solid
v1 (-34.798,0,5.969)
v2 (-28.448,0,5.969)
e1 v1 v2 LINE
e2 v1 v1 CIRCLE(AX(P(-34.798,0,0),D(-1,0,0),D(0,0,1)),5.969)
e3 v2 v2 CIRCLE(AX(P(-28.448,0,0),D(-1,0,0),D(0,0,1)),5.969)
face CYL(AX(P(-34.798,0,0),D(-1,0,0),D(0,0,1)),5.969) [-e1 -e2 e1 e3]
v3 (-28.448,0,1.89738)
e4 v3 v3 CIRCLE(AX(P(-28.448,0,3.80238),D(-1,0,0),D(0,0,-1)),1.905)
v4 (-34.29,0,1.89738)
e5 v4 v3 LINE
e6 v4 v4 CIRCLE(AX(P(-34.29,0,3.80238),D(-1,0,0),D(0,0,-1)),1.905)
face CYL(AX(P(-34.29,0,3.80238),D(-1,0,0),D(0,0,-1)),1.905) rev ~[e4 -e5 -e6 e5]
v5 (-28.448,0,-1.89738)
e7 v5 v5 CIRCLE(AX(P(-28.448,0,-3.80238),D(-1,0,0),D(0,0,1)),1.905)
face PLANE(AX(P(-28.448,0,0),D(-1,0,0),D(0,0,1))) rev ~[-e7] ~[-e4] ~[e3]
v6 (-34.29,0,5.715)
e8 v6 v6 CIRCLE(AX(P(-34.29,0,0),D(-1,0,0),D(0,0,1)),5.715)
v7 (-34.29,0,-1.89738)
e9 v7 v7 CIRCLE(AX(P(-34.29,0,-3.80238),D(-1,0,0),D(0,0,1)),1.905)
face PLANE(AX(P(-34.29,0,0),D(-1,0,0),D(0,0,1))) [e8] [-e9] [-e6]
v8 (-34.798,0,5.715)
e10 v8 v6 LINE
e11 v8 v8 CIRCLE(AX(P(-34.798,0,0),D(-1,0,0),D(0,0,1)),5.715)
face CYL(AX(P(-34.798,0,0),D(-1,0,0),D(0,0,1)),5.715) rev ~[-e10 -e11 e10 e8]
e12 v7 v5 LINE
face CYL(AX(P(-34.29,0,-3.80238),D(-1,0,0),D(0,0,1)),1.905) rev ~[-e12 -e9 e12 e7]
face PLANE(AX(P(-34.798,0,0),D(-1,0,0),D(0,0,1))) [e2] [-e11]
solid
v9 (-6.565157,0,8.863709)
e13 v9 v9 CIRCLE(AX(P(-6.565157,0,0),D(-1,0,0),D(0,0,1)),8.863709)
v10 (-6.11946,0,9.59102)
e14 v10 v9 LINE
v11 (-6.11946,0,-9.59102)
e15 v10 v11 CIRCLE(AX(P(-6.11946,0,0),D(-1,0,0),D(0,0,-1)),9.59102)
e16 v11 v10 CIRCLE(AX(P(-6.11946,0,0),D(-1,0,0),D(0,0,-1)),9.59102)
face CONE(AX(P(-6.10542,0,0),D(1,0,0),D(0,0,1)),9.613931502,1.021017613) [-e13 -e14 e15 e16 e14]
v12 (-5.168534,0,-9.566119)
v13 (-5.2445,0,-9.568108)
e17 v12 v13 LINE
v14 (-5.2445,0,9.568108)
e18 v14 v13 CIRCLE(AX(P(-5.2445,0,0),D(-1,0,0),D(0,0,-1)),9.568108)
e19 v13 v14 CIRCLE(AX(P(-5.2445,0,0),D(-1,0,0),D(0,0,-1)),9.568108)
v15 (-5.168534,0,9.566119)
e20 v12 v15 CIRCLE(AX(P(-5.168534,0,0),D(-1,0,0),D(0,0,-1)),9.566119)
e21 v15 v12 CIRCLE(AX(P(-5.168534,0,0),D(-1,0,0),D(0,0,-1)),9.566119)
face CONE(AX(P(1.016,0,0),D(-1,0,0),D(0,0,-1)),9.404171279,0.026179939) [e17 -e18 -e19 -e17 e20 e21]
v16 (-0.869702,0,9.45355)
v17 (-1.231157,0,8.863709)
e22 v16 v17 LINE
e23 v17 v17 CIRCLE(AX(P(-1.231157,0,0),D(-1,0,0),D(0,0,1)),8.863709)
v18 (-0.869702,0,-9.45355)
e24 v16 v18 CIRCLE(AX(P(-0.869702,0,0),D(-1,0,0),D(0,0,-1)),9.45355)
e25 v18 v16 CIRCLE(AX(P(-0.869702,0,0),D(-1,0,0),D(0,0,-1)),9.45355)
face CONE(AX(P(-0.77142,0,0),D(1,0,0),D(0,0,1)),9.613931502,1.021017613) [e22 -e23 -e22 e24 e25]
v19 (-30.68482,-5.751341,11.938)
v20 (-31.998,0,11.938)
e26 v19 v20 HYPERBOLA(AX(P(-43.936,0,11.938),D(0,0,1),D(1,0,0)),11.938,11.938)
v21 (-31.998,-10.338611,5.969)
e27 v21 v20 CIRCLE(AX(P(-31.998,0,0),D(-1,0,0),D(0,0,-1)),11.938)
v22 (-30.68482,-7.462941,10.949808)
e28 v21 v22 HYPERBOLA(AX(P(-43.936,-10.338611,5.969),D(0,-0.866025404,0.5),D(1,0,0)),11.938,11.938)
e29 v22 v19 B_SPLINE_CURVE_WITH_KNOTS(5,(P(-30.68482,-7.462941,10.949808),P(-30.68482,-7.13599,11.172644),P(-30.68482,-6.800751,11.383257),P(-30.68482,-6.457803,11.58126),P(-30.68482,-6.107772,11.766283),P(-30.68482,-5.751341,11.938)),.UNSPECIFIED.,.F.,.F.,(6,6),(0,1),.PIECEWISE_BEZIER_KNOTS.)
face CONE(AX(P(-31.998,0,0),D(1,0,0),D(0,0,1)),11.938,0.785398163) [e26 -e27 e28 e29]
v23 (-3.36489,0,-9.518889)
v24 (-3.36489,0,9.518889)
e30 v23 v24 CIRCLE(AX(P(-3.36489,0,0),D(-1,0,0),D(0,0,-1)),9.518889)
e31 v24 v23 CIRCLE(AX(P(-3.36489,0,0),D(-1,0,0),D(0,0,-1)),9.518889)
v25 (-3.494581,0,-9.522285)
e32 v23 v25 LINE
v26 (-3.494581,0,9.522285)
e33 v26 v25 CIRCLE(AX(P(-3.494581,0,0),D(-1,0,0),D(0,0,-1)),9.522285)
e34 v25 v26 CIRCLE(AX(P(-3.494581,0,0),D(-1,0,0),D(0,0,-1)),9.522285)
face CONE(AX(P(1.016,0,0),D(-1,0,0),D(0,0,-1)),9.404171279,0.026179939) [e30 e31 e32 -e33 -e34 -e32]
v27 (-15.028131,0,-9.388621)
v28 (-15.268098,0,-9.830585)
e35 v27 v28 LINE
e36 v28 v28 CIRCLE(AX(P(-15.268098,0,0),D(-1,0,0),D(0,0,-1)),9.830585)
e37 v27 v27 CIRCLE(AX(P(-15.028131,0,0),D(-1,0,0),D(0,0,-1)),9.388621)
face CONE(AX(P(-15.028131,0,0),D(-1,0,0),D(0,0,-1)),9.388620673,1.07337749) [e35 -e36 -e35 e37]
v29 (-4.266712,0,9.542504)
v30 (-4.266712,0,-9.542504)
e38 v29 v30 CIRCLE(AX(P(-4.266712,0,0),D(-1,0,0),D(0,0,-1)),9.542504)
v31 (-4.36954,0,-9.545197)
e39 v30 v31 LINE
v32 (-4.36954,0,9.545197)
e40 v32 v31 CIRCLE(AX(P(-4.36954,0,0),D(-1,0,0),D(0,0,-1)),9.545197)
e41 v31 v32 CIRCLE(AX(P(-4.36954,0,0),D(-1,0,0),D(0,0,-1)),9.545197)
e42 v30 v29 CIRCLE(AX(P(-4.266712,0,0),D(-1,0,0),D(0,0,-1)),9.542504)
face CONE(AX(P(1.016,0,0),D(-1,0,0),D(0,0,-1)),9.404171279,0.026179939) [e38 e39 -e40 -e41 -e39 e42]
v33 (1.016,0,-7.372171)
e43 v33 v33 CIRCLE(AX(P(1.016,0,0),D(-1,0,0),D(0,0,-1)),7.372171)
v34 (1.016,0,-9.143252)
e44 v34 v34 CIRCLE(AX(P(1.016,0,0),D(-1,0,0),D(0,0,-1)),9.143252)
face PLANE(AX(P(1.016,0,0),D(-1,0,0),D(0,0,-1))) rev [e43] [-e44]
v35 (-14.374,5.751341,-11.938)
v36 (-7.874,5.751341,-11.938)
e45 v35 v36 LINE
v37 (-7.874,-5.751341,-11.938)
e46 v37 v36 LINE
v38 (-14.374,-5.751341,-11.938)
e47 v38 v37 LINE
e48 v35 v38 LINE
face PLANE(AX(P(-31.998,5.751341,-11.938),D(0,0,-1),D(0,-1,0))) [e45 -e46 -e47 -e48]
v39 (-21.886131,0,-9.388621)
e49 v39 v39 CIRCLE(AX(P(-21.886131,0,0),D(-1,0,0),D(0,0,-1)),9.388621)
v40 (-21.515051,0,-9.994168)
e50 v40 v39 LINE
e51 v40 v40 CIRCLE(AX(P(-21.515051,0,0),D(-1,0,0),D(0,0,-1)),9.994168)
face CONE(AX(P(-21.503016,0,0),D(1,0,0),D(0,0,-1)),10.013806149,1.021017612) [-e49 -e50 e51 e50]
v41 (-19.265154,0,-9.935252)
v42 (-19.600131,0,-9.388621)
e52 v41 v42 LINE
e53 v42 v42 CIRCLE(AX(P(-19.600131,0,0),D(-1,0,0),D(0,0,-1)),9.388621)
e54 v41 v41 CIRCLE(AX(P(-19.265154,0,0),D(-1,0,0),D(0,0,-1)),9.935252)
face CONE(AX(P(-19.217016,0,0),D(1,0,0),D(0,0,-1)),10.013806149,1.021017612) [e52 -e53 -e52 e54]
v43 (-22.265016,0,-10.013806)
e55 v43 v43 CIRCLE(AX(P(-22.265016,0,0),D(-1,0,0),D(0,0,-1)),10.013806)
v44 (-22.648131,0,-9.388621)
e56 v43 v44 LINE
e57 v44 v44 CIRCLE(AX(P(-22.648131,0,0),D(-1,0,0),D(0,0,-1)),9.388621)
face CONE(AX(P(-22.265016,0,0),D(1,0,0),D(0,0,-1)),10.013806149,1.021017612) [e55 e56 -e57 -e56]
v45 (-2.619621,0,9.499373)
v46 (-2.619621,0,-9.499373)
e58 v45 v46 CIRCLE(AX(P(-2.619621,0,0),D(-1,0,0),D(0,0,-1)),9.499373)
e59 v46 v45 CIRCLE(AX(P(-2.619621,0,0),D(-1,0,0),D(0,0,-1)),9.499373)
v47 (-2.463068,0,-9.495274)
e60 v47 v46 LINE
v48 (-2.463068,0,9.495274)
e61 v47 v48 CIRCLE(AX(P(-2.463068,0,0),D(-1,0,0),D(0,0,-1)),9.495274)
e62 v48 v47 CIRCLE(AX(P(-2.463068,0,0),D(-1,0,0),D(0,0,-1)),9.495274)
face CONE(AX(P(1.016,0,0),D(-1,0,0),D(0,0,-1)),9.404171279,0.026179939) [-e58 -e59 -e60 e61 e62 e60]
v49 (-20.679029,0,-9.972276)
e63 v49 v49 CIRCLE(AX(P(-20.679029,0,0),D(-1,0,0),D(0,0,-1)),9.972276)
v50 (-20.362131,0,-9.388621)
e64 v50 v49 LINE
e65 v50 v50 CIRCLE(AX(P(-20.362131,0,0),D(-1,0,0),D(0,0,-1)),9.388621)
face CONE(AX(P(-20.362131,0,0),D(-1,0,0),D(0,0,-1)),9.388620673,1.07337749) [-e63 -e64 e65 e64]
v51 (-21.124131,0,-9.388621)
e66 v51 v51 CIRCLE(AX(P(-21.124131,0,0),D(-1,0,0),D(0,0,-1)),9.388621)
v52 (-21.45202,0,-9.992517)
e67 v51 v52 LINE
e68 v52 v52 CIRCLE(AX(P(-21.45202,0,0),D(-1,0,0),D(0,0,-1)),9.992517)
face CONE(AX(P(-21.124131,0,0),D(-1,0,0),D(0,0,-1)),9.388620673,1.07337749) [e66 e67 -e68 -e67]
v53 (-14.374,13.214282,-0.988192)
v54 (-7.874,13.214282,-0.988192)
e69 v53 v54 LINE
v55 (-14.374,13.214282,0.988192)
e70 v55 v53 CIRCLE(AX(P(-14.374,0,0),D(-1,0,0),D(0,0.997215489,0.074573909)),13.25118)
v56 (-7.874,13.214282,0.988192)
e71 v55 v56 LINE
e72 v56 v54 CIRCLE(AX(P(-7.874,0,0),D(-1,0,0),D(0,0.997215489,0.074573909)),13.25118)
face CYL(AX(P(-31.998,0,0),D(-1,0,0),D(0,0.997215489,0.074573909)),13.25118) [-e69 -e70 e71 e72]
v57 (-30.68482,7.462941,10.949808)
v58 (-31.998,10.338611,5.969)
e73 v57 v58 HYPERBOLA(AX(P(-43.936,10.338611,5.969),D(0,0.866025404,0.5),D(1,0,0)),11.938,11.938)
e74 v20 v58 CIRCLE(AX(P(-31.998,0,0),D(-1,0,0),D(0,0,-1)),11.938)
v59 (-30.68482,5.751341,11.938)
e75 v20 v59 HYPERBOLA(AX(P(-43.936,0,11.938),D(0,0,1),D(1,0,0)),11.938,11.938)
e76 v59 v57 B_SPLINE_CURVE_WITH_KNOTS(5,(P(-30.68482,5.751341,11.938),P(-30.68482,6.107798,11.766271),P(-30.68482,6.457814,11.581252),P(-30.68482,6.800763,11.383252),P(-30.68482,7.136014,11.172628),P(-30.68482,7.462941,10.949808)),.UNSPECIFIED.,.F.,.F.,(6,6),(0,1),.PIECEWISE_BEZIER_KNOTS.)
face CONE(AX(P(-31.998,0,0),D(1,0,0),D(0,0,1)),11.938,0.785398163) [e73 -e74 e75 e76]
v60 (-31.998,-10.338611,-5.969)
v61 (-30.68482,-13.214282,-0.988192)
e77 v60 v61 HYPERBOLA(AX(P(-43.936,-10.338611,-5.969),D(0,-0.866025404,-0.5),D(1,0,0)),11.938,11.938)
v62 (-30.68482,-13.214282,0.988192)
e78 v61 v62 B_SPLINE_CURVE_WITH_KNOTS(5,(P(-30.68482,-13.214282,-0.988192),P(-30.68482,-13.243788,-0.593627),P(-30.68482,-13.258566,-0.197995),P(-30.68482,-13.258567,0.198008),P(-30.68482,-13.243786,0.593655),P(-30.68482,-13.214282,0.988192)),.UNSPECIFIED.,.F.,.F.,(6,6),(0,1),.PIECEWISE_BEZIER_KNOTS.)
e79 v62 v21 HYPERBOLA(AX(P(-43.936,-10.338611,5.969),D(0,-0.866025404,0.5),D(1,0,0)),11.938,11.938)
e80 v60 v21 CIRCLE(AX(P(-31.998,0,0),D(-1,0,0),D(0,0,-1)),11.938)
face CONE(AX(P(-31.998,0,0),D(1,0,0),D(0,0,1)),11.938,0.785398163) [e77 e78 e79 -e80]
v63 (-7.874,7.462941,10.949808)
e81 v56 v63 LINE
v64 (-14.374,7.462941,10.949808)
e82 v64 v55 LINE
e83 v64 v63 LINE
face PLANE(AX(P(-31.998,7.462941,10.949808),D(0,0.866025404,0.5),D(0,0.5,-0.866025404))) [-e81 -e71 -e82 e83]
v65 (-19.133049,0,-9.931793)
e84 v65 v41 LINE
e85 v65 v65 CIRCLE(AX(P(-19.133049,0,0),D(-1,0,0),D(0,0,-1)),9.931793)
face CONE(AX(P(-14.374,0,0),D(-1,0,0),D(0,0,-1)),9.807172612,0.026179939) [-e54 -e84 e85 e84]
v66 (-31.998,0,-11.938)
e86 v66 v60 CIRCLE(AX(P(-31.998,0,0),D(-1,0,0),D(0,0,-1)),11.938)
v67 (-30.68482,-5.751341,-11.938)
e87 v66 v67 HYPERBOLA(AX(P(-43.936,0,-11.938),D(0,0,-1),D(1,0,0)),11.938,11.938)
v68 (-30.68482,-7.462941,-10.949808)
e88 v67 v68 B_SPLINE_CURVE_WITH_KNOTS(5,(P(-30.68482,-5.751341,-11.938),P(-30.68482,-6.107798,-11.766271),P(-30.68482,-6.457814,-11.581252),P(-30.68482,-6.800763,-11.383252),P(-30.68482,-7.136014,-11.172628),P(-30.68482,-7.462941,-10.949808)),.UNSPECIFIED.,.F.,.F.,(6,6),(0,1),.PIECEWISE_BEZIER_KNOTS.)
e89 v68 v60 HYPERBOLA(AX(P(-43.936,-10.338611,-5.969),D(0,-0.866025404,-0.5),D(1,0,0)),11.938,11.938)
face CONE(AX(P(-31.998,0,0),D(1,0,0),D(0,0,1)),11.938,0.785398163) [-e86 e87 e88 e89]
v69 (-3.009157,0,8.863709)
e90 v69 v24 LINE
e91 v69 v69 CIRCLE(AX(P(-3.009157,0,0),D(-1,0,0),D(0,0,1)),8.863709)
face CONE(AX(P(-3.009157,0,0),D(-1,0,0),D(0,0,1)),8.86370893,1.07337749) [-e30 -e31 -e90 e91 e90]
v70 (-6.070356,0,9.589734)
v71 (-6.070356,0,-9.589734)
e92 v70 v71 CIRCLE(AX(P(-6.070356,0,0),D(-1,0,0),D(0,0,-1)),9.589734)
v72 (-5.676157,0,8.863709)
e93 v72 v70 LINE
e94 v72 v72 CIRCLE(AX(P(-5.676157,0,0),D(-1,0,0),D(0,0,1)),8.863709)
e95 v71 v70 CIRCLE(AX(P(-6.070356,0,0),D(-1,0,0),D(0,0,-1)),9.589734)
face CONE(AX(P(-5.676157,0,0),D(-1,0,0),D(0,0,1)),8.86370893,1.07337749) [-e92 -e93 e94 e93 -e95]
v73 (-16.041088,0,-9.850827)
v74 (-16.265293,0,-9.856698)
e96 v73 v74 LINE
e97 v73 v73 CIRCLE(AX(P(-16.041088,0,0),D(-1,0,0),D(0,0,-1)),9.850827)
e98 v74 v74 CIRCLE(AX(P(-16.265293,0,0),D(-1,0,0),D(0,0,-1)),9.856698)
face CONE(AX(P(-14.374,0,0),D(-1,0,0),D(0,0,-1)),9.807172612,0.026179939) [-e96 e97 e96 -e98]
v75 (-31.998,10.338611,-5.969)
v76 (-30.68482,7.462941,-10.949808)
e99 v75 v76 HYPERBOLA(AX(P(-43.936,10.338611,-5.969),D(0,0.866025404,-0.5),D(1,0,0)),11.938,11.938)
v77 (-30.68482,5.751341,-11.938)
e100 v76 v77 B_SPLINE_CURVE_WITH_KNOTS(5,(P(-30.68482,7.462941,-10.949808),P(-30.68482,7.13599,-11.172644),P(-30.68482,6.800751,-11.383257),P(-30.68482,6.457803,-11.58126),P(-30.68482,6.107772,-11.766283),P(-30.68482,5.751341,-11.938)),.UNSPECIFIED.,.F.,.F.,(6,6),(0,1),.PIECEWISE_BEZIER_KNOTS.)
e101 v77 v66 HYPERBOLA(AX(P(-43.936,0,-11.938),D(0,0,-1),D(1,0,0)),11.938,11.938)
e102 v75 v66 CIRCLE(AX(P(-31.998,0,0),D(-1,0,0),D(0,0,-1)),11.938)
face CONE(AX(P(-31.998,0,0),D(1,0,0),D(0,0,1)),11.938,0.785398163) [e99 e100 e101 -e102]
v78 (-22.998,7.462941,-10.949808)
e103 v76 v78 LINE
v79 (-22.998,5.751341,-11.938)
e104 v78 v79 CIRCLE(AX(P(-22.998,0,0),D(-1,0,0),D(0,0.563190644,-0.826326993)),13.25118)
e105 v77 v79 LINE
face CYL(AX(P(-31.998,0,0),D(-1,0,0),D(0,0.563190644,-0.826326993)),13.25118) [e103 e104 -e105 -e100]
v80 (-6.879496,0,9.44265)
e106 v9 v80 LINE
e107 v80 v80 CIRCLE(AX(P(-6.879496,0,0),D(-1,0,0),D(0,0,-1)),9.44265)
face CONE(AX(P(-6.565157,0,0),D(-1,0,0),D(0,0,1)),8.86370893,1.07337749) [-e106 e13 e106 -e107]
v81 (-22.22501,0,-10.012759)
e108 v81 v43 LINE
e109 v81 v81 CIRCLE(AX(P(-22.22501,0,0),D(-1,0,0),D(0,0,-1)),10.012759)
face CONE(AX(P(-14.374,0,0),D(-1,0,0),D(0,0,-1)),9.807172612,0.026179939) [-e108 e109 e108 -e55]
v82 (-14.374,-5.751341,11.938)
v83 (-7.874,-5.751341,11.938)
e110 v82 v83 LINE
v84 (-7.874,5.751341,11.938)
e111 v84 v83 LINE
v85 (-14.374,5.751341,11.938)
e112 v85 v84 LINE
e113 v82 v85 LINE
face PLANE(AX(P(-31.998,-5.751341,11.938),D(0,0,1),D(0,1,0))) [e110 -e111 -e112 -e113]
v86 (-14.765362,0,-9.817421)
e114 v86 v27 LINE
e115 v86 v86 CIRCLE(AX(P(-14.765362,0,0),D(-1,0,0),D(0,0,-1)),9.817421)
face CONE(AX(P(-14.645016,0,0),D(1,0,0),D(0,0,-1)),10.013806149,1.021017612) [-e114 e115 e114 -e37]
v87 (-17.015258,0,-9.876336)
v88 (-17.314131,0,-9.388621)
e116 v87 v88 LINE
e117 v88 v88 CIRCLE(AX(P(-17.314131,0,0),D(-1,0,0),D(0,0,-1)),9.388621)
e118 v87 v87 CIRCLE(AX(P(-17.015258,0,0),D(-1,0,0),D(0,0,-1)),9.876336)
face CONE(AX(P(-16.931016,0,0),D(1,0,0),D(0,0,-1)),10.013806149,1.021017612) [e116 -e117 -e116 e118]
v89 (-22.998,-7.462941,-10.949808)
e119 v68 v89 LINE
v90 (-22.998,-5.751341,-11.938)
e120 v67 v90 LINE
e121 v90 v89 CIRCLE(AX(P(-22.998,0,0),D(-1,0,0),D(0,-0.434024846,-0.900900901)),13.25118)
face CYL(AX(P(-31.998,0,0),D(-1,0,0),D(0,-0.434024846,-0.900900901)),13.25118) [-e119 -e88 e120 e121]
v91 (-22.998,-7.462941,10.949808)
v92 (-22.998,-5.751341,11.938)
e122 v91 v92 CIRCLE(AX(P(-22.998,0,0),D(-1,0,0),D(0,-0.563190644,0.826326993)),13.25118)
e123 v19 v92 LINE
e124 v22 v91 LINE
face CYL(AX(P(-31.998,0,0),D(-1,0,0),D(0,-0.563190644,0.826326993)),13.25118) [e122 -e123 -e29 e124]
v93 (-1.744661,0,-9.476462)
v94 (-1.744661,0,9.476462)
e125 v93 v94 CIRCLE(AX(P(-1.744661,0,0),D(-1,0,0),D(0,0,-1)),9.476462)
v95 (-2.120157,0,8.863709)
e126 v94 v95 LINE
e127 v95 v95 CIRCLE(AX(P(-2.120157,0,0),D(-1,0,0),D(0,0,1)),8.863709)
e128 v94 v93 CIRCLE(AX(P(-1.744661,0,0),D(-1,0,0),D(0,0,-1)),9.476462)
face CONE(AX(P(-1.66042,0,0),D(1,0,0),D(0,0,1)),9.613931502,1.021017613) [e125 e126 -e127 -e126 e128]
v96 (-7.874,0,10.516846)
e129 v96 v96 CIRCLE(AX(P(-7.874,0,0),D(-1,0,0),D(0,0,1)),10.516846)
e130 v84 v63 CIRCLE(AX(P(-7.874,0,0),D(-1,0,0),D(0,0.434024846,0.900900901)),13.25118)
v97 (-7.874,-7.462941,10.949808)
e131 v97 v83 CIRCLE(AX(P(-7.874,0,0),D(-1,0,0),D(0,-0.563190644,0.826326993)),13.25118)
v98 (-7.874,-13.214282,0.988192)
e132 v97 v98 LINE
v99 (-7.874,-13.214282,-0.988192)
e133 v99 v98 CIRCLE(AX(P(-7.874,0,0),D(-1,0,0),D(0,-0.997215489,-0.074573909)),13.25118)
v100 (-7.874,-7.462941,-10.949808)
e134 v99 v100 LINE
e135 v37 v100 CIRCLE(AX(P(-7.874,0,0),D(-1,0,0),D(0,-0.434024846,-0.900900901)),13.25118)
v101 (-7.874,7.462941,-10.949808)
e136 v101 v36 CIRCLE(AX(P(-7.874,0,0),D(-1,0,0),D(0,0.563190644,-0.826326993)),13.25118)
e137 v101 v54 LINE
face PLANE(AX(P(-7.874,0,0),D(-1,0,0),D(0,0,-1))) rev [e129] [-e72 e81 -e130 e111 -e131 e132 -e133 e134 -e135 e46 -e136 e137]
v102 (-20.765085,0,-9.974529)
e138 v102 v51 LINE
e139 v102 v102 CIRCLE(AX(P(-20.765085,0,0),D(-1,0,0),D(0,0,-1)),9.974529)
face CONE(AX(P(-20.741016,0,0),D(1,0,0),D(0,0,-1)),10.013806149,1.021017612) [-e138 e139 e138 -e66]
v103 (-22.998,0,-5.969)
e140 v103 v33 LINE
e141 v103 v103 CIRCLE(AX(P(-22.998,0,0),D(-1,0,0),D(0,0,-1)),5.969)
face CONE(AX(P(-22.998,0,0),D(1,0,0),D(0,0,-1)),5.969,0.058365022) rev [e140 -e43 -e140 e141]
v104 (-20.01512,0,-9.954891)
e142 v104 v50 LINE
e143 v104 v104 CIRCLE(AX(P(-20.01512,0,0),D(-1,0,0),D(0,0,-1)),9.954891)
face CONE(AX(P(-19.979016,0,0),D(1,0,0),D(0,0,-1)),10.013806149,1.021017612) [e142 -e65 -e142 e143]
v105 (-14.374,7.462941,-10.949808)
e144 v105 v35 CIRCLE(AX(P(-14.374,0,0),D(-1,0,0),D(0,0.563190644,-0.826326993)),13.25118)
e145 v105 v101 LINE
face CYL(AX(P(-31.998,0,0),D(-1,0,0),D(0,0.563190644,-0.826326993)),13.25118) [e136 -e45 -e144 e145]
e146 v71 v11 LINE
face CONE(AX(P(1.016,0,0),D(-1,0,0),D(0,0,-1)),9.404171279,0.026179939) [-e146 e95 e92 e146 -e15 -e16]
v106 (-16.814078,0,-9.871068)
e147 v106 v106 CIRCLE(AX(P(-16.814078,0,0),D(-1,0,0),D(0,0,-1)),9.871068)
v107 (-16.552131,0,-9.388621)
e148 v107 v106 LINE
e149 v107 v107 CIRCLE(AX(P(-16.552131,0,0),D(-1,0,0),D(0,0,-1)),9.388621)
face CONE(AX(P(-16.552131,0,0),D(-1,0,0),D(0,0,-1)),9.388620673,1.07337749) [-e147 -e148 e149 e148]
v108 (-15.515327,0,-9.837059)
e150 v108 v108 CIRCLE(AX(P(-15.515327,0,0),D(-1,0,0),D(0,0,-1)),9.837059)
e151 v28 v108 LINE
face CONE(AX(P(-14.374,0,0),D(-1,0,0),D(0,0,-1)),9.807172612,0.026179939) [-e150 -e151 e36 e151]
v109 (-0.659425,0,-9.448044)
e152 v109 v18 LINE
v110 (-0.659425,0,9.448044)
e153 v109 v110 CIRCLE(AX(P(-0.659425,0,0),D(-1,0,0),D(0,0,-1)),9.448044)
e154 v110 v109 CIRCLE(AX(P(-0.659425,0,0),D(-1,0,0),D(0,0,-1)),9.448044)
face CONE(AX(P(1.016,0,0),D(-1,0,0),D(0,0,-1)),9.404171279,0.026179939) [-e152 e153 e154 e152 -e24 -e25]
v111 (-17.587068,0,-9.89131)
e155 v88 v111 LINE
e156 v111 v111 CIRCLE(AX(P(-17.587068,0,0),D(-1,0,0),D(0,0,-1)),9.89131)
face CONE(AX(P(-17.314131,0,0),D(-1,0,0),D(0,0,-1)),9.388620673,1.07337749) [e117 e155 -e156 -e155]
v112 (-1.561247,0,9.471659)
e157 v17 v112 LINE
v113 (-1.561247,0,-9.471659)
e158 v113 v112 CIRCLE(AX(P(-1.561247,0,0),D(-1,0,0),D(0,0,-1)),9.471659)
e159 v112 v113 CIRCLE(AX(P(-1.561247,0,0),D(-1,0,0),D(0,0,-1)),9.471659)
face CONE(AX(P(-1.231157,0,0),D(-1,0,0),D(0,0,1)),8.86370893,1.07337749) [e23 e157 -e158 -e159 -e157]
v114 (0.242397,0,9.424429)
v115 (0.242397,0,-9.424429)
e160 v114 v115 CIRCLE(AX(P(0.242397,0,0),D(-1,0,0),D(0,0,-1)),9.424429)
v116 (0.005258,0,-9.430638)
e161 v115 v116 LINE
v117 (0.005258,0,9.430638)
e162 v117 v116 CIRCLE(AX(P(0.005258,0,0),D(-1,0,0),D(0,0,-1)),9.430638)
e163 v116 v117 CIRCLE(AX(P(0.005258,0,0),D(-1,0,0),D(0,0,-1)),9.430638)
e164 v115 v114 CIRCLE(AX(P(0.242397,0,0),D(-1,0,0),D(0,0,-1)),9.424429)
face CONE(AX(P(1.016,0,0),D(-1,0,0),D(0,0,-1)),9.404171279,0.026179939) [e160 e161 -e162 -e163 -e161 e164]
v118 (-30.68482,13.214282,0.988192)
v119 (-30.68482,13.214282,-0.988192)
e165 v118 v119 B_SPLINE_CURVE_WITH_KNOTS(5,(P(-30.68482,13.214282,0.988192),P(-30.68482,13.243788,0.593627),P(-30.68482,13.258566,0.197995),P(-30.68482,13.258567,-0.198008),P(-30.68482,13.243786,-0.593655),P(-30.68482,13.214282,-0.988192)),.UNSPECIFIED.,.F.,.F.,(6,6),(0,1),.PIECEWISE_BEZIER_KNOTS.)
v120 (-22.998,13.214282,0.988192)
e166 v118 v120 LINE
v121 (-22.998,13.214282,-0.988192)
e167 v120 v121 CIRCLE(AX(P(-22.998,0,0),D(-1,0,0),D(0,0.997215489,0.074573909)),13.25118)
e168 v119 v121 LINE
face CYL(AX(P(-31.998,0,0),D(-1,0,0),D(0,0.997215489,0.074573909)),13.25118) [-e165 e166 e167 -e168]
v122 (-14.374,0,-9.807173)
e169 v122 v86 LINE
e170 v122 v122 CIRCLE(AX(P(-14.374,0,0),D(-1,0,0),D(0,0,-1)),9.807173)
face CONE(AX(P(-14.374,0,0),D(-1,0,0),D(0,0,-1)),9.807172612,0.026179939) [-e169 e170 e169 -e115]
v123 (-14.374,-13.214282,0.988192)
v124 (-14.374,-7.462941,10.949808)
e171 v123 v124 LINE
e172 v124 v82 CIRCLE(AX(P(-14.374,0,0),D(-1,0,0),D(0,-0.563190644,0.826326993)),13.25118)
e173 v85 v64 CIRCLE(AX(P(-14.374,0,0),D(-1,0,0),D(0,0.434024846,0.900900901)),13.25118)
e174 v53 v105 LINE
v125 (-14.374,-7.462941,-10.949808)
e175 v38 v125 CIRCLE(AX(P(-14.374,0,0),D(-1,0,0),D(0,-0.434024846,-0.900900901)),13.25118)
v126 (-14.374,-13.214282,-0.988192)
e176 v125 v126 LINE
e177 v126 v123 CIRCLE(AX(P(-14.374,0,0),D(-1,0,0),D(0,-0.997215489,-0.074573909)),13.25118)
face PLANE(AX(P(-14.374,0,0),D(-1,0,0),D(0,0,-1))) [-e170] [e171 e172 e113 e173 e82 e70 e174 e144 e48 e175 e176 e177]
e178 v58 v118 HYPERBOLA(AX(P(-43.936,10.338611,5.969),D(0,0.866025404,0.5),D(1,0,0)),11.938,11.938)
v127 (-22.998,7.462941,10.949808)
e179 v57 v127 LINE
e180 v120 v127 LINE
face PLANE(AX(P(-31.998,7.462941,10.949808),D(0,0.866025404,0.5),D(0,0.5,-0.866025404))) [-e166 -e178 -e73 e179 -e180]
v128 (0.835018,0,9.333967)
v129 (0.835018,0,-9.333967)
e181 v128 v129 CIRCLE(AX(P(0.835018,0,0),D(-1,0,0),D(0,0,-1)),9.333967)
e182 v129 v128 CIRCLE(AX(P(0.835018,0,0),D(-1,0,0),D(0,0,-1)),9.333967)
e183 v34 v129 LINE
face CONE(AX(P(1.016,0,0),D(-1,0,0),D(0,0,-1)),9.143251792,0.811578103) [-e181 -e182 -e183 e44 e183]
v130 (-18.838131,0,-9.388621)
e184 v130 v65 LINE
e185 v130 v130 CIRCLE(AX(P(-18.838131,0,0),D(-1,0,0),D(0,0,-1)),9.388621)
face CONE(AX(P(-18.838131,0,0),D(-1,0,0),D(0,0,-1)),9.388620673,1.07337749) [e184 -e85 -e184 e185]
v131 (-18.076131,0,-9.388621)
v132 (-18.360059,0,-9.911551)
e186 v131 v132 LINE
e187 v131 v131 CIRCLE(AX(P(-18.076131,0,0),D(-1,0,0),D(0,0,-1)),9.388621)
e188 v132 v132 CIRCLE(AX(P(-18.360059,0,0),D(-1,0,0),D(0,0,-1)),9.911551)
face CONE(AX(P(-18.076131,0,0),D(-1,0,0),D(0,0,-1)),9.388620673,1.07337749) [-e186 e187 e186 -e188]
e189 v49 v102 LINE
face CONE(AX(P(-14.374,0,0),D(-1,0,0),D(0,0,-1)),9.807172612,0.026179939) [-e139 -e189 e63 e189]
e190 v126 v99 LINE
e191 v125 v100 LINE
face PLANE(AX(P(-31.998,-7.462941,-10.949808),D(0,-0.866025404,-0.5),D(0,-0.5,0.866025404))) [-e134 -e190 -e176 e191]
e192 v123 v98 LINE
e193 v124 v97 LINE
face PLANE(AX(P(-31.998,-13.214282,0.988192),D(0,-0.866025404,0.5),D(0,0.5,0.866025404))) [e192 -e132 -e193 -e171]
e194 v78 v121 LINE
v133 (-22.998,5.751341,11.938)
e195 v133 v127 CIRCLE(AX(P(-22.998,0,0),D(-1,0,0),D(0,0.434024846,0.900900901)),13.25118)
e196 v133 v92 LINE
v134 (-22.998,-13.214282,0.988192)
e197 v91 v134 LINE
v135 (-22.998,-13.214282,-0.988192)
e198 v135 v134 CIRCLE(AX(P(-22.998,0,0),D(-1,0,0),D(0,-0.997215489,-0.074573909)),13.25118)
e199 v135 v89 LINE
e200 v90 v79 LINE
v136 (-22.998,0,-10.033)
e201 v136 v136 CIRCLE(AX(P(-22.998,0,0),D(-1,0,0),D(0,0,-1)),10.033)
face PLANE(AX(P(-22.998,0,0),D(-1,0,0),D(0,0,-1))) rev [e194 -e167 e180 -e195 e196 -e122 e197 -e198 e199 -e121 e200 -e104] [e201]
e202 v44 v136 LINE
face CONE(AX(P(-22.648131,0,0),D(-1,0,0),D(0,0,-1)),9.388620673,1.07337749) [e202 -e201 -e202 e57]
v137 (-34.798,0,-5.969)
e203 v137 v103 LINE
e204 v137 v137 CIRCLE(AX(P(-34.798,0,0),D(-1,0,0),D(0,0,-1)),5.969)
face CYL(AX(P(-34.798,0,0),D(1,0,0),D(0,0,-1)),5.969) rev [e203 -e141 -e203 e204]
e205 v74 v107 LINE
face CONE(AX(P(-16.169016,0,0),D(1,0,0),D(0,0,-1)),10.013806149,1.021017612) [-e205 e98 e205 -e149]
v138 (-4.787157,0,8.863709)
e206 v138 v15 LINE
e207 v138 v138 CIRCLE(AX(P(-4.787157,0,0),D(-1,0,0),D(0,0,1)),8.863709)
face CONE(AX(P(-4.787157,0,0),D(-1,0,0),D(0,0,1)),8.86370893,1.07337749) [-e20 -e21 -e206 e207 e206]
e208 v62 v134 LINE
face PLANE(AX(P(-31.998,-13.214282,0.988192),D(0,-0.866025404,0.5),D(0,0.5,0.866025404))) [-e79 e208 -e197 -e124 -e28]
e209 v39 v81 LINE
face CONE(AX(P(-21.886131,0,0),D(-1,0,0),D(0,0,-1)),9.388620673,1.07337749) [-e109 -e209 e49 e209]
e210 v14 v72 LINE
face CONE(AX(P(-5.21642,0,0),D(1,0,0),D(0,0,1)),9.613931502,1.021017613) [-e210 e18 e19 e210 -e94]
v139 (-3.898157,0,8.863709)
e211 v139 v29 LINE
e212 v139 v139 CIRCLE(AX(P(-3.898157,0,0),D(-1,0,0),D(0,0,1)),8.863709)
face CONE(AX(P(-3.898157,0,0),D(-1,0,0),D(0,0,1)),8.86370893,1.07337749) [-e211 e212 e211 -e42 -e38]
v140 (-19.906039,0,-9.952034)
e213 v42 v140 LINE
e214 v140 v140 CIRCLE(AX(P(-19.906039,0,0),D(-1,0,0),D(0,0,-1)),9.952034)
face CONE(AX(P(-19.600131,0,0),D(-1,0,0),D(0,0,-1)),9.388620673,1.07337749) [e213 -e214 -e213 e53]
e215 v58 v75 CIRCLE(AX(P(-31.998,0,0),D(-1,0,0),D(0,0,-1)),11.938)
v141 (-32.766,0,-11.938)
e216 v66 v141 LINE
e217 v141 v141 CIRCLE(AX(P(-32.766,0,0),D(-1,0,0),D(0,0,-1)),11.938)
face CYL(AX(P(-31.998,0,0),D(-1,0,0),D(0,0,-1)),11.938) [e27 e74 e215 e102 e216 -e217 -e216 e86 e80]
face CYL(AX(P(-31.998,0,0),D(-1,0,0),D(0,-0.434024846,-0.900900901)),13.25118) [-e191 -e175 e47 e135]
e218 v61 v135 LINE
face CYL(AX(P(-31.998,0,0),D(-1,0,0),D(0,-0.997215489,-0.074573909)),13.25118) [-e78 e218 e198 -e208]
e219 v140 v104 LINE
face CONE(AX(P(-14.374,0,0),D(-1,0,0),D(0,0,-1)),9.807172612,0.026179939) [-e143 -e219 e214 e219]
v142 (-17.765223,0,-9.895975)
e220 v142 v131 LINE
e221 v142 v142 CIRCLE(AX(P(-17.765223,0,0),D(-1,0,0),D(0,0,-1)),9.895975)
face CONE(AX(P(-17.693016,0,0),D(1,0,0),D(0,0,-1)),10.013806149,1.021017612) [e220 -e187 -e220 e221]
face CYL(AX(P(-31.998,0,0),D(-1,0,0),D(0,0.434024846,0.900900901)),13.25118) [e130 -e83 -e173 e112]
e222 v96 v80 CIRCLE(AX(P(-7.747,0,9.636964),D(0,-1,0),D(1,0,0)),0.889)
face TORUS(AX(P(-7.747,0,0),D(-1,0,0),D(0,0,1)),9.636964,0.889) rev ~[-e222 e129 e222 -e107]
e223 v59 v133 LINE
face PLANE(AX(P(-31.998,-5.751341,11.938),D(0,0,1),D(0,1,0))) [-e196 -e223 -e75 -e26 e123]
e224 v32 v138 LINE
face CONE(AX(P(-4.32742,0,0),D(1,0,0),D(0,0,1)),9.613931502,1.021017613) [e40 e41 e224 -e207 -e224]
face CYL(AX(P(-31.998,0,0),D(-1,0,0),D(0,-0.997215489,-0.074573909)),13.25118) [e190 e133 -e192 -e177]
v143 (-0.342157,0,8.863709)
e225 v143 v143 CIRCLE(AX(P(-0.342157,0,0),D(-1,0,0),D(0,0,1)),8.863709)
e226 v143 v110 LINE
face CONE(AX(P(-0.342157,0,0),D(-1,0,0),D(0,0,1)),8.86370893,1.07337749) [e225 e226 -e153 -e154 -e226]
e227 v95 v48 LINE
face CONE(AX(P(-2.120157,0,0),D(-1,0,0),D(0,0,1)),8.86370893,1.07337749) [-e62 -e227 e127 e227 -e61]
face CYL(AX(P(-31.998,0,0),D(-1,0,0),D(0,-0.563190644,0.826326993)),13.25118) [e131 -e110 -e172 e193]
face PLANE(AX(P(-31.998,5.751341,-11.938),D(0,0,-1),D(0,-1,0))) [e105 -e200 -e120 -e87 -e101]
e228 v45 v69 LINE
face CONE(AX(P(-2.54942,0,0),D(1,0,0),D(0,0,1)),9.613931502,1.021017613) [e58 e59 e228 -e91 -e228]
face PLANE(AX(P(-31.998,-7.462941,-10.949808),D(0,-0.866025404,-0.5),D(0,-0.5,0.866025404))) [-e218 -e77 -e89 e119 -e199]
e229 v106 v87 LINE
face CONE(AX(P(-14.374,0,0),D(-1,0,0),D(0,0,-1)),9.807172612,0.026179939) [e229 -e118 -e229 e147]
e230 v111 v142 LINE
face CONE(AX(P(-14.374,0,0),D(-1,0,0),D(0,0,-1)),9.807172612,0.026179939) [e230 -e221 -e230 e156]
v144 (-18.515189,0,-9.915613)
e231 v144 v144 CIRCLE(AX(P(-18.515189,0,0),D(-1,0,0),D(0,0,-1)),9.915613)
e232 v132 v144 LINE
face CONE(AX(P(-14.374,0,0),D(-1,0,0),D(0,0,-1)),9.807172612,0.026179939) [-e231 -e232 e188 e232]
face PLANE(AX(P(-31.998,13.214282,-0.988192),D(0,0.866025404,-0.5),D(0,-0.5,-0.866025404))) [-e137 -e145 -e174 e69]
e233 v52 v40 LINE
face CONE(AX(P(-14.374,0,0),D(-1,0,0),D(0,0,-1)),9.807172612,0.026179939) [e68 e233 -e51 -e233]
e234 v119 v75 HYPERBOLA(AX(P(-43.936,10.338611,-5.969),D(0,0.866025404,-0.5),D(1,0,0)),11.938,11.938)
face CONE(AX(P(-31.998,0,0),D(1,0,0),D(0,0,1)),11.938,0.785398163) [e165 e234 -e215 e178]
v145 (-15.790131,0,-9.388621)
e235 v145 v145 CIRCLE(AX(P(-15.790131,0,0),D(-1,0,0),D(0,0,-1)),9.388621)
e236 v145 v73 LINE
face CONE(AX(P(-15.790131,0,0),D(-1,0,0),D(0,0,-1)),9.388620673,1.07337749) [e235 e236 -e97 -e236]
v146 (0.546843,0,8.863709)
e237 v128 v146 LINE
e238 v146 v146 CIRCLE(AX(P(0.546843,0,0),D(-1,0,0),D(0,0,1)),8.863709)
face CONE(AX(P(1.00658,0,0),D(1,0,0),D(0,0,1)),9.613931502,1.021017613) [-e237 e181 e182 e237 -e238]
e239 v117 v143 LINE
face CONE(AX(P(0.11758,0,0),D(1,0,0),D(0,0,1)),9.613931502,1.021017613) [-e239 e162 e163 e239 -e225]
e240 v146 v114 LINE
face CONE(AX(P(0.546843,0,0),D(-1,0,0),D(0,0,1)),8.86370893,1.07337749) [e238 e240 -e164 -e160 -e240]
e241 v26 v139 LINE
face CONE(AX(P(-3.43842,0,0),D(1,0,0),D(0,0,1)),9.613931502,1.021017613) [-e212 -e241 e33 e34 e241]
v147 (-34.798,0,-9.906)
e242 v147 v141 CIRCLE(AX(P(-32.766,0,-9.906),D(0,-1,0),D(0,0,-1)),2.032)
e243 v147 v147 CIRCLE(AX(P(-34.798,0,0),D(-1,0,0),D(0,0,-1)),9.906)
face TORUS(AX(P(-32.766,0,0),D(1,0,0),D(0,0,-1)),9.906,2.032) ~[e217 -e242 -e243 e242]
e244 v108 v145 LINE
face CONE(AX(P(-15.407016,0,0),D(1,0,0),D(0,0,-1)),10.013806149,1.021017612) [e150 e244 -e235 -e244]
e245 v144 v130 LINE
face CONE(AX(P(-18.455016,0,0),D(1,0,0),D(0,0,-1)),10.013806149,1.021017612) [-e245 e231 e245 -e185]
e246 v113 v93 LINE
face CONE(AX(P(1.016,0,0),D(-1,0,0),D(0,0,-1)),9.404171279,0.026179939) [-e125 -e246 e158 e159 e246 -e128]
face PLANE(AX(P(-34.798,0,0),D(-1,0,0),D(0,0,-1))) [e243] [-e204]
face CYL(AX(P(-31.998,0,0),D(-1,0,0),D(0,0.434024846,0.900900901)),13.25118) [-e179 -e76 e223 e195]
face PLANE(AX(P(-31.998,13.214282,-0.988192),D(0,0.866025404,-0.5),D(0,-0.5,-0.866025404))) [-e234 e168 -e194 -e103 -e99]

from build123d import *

# Parameters (mm, degrees)
SKETCH12_OUTSIDE_W = 65.04
SKETCH12_OUTSIDE_H = 65.04
CUT_EXTRUDE2_DEPTH = 34.014
FILLET4_R          = 2.032
SKETCH19_OUTSIDE_W = 39.986
SKETCH19_OUTSIDE_H = 42.612
SKETCH19_OUTSIDE_R = 11.938
CUT_EXTRUDE3_DEPTH = 1.999996
CUT_EXTRUDE3_DRAFT = -45
CHAMFER1_SIZE      = 0.260919487
CHAMFER1_SIZE2     = 0.254
SKETCH21_R         = 5.969
PLUG_DEPTH         = 6.35
SKETCH22_R         = 5.715
CUT_EXTRUDE4_DEPTH = 0.508
SKETCH27_R         = 1.905
PLUGHOLES_DEPTH    = 36.306
CIRPATTERN1_COUNT  = 2
LPATTERN1_COUNT    = 11
LPATTERN1_PITCH    = 0.762
LPATTERN2_COUNT    = 10
LPATTERN2_PITCH    = 0.889
SKETCH32_R         = 0.889


with BuildPart() as part:
    # Sketch10 → Revolve2 (revolve)
    with BuildSketch(Plane.XY, mode=Mode.PRIVATE) as revolve2_sk:
        Polygon((-34.798, 5.969), (-22.998, 5.969), (1.016, 7.372171279), (1.016, 9.404171279), (-7.874, 9.636964122), (-7.874, 23.876), (-14.374, 23.876), (-14.374, 9.807172612), (-22.998, 10.033), (-22.998, 23.876), (-31.998, 23.876), (-31.998, 11.938), (-34.798, 11.938), align=None)
    revolve(revolve2_sk.sketch.rotate(Axis((0, 0, 0), (-1, 0, 0)), 90), axis=Axis((0, 0, 0), (-1, 0, 0)))  # turned: the seam where the file's is

    # Sketch12 outside → Cut-Extrude2 (cut, through all)
    with BuildSketch(Plane.ZY.offset(31.998)):
        Rectangle(SKETCH12_OUTSIDE_W, SKETCH12_OUTSIDE_H)
        with BuildLine():
            Line((-0.98819228, 13.214281948), (-10.94980772, 7.462940592))
            ThreePointArc((-10.94980772, 7.462940592), (-11.47585851, 6.62559), (-11.938, 5.751341356))
            Line((-11.938, 5.751341356), (-11.938, -5.751341356))
            ThreePointArc((-11.938, -5.751341356), (-11.47585851, -6.62559), (-10.94980772, -7.462940592))
            Line((-10.94980772, -7.462940592), (-0.98819228, -13.214281948))
            ThreePointArc((-0.98819228, -13.214281948), (0, -13.25118), (0.98819228, -13.214281948))
            Line((0.98819228, -13.214281948), (10.94980772, -7.462940592))
            ThreePointArc((10.94980772, -7.462940592), (11.47585851, -6.62559), (11.938, -5.751341356))
            Line((11.938, -5.751341356), (11.938, 5.751341356))
            ThreePointArc((11.938, 5.751341356), (11.47585851, 6.62559), (10.94980772, 7.462940592))
            Line((10.94980772, 7.462940592), (0.98819228, 13.214281948))
            ThreePointArc((0.98819228, 13.214281948), (0, 13.25118), (-0.98819228, 13.214281948))
        make_face(mode=Mode.SUBTRACT)
    extrude(amount=-CUT_EXTRUDE2_DEPTH, mode=Mode.SUBTRACT)

    # Fillet4
    fillet4_edges = [part.edges().sort_by_distance(p)[0] for p in [
        (-34.798, 0, 11.938),
    ]]
    fillet(fillet4_edges, radius=FILLET4_R)


with BuildPart() as cut_extrude3_tool:
    # Sketch19 outside → Cut-Extrude3 (with draft: the straight prism first)
    with BuildSketch(Plane.ZY.offset(31.998)):
        Rectangle(SKETCH19_OUTSIDE_W, SKETCH19_OUTSIDE_H)
        Circle(SKETCH19_OUTSIDE_R, mode=Mode.SUBTRACT)
    extrude(amount=-CUT_EXTRUDE3_DEPTH)
    # Cut-Extrude3: the draft: its side faces are tilted about the plane it starts from
    cut_extrude3_sides = [cut_extrude3_tool.faces().sort_by_distance(p)[0] for p in [
        (-30.998002, -21.306, 0),
        (-30.998002, 0, 19.993),
        (-30.998002, 21.306, 0),
        (-30.998002, 0, -19.993),
        (-30.998002, 0, -11.938),
    ]]
    draft(cut_extrude3_sides, Plane.ZY.offset(31.998), CUT_EXTRUDE3_DRAFT)


with BuildPart() as part_1:
    add(part.part)

    # Cut-Extrude3: cut by cut_extrude3_tool
    add(cut_extrude3_tool.part, mode=Mode.SUBTRACT)

    # Chamfer1
    chamfer1_edges = [part_1.edges().sort_by_distance(p)[0] for p in [
        (1.016, 0, 9.404171279),
    ]]
    chamfer1_side = [part_1.faces().sort_by_distance(p)[0] for p in [
        (1.016, 0, 7.638161411),
    ]]
    chamfer(chamfer1_edges, length=CHAMFER1_SIZE, length2=CHAMFER1_SIZE2, reference=chamfer1_side[0])

    # Sketch29 → Cut-Revolve1 (revolve, cut)
    with BuildSketch(Plane.XY, mode=Mode.PRIVATE) as cut_revolve1_sk:
        Polygon((-22.998, 10.033), (-22.265016419, 10.013806149), (-22.648130572, 9.388620673), align=None)
    cut_revolve1 = revolve(cut_revolve1_sk.sketch.rotate(Axis((0, 0, 0), (-1, 0, 0)), 90), axis=Axis((0, 0, 0), (-1, 0, 0)), mode=Mode.SUBTRACT)  # turned: the seam where the file's is

    # LPattern1: Cut-Revolve1 ×11
    with Locations(*[(i * LPATTERN1_PITCH, 0, 0) for i in range(1, LPATTERN1_COUNT)]):
        add(cut_revolve1, mode=Mode.SUBTRACT)

    # Sketch30 → Cut-Revolve2 (revolve, cut)
    with BuildSketch(Plane.XY, mode=Mode.PRIVATE) as cut_revolve2_sk:
        Polygon((-7.874, 9.636964122), (-6.994419703, 9.613931502), (-7.454156686, 8.86370893), align=None)
    cut_revolve2 = revolve(cut_revolve2_sk.sketch.rotate(Axis((0, 0, 0), (-1, 0, 0)), 270), axis=Axis((0, 0, 0), (-1, 0, 0)), mode=Mode.SUBTRACT)  # turned: the seam where the file's is

    # LPattern2: Cut-Revolve2 ×10
    with Locations(*[(i * LPATTERN2_PITCH, 0, 0) for i in range(1, LPATTERN2_COUNT)]):
        add(cut_revolve2, mode=Mode.SUBTRACT)

    # Sketch32 → Cut-Revolve3 (revolve, cut)
    with BuildSketch(Plane.XY, mode=Mode.PRIVATE) as cut_revolve3_sk:
        with Locations((-7.747, 9.636964122)):
            Circle(SKETCH32_R)
    revolve(cut_revolve3_sk.sketch.rotate(Axis((0, 0, 0), (-1, 0, 0)), 270), axis=Axis((0, 0, 0), (-1, 0, 0)), mode=Mode.SUBTRACT)  # turned: the seam where the file's is


with BuildPart() as body_2:
    # Sketch21 → plug (new body)
    with BuildSketch(Plane.ZY.offset(34.798)):
        Circle(SKETCH21_R)
    extrude(amount=-PLUG_DEPTH)

    # Sketch22 → Cut-Extrude4 (cut)
    with BuildSketch(Plane.ZY.offset(34.798)):
        Circle(SKETCH22_R)
    extrude(amount=-CUT_EXTRUDE4_DEPTH, mode=Mode.SUBTRACT)

    # Sketch27 → plugholes (cut, through all)
    with BuildSketch(Plane.ZY.offset(34.29)):
        with Locations((-3.80238, 0)):
            Circle(SKETCH27_R)
    plugholes = extrude(amount=-PLUGHOLES_DEPTH, mode=Mode.SUBTRACT)

    # CirPattern1: plugholes ×2 about axis
    cirpattern1_axis = Axis((0, 0, 0), (1, 0, 0))
    for i in range(1, CIRPATTERN1_COUNT):
        add(plugholes.rotate(cirpattern1_axis, i * 360 / CIRPATTERN1_COUNT), mode=Mode.SUBTRACT)


solid = Compound([part_1.part, body_2.part])
